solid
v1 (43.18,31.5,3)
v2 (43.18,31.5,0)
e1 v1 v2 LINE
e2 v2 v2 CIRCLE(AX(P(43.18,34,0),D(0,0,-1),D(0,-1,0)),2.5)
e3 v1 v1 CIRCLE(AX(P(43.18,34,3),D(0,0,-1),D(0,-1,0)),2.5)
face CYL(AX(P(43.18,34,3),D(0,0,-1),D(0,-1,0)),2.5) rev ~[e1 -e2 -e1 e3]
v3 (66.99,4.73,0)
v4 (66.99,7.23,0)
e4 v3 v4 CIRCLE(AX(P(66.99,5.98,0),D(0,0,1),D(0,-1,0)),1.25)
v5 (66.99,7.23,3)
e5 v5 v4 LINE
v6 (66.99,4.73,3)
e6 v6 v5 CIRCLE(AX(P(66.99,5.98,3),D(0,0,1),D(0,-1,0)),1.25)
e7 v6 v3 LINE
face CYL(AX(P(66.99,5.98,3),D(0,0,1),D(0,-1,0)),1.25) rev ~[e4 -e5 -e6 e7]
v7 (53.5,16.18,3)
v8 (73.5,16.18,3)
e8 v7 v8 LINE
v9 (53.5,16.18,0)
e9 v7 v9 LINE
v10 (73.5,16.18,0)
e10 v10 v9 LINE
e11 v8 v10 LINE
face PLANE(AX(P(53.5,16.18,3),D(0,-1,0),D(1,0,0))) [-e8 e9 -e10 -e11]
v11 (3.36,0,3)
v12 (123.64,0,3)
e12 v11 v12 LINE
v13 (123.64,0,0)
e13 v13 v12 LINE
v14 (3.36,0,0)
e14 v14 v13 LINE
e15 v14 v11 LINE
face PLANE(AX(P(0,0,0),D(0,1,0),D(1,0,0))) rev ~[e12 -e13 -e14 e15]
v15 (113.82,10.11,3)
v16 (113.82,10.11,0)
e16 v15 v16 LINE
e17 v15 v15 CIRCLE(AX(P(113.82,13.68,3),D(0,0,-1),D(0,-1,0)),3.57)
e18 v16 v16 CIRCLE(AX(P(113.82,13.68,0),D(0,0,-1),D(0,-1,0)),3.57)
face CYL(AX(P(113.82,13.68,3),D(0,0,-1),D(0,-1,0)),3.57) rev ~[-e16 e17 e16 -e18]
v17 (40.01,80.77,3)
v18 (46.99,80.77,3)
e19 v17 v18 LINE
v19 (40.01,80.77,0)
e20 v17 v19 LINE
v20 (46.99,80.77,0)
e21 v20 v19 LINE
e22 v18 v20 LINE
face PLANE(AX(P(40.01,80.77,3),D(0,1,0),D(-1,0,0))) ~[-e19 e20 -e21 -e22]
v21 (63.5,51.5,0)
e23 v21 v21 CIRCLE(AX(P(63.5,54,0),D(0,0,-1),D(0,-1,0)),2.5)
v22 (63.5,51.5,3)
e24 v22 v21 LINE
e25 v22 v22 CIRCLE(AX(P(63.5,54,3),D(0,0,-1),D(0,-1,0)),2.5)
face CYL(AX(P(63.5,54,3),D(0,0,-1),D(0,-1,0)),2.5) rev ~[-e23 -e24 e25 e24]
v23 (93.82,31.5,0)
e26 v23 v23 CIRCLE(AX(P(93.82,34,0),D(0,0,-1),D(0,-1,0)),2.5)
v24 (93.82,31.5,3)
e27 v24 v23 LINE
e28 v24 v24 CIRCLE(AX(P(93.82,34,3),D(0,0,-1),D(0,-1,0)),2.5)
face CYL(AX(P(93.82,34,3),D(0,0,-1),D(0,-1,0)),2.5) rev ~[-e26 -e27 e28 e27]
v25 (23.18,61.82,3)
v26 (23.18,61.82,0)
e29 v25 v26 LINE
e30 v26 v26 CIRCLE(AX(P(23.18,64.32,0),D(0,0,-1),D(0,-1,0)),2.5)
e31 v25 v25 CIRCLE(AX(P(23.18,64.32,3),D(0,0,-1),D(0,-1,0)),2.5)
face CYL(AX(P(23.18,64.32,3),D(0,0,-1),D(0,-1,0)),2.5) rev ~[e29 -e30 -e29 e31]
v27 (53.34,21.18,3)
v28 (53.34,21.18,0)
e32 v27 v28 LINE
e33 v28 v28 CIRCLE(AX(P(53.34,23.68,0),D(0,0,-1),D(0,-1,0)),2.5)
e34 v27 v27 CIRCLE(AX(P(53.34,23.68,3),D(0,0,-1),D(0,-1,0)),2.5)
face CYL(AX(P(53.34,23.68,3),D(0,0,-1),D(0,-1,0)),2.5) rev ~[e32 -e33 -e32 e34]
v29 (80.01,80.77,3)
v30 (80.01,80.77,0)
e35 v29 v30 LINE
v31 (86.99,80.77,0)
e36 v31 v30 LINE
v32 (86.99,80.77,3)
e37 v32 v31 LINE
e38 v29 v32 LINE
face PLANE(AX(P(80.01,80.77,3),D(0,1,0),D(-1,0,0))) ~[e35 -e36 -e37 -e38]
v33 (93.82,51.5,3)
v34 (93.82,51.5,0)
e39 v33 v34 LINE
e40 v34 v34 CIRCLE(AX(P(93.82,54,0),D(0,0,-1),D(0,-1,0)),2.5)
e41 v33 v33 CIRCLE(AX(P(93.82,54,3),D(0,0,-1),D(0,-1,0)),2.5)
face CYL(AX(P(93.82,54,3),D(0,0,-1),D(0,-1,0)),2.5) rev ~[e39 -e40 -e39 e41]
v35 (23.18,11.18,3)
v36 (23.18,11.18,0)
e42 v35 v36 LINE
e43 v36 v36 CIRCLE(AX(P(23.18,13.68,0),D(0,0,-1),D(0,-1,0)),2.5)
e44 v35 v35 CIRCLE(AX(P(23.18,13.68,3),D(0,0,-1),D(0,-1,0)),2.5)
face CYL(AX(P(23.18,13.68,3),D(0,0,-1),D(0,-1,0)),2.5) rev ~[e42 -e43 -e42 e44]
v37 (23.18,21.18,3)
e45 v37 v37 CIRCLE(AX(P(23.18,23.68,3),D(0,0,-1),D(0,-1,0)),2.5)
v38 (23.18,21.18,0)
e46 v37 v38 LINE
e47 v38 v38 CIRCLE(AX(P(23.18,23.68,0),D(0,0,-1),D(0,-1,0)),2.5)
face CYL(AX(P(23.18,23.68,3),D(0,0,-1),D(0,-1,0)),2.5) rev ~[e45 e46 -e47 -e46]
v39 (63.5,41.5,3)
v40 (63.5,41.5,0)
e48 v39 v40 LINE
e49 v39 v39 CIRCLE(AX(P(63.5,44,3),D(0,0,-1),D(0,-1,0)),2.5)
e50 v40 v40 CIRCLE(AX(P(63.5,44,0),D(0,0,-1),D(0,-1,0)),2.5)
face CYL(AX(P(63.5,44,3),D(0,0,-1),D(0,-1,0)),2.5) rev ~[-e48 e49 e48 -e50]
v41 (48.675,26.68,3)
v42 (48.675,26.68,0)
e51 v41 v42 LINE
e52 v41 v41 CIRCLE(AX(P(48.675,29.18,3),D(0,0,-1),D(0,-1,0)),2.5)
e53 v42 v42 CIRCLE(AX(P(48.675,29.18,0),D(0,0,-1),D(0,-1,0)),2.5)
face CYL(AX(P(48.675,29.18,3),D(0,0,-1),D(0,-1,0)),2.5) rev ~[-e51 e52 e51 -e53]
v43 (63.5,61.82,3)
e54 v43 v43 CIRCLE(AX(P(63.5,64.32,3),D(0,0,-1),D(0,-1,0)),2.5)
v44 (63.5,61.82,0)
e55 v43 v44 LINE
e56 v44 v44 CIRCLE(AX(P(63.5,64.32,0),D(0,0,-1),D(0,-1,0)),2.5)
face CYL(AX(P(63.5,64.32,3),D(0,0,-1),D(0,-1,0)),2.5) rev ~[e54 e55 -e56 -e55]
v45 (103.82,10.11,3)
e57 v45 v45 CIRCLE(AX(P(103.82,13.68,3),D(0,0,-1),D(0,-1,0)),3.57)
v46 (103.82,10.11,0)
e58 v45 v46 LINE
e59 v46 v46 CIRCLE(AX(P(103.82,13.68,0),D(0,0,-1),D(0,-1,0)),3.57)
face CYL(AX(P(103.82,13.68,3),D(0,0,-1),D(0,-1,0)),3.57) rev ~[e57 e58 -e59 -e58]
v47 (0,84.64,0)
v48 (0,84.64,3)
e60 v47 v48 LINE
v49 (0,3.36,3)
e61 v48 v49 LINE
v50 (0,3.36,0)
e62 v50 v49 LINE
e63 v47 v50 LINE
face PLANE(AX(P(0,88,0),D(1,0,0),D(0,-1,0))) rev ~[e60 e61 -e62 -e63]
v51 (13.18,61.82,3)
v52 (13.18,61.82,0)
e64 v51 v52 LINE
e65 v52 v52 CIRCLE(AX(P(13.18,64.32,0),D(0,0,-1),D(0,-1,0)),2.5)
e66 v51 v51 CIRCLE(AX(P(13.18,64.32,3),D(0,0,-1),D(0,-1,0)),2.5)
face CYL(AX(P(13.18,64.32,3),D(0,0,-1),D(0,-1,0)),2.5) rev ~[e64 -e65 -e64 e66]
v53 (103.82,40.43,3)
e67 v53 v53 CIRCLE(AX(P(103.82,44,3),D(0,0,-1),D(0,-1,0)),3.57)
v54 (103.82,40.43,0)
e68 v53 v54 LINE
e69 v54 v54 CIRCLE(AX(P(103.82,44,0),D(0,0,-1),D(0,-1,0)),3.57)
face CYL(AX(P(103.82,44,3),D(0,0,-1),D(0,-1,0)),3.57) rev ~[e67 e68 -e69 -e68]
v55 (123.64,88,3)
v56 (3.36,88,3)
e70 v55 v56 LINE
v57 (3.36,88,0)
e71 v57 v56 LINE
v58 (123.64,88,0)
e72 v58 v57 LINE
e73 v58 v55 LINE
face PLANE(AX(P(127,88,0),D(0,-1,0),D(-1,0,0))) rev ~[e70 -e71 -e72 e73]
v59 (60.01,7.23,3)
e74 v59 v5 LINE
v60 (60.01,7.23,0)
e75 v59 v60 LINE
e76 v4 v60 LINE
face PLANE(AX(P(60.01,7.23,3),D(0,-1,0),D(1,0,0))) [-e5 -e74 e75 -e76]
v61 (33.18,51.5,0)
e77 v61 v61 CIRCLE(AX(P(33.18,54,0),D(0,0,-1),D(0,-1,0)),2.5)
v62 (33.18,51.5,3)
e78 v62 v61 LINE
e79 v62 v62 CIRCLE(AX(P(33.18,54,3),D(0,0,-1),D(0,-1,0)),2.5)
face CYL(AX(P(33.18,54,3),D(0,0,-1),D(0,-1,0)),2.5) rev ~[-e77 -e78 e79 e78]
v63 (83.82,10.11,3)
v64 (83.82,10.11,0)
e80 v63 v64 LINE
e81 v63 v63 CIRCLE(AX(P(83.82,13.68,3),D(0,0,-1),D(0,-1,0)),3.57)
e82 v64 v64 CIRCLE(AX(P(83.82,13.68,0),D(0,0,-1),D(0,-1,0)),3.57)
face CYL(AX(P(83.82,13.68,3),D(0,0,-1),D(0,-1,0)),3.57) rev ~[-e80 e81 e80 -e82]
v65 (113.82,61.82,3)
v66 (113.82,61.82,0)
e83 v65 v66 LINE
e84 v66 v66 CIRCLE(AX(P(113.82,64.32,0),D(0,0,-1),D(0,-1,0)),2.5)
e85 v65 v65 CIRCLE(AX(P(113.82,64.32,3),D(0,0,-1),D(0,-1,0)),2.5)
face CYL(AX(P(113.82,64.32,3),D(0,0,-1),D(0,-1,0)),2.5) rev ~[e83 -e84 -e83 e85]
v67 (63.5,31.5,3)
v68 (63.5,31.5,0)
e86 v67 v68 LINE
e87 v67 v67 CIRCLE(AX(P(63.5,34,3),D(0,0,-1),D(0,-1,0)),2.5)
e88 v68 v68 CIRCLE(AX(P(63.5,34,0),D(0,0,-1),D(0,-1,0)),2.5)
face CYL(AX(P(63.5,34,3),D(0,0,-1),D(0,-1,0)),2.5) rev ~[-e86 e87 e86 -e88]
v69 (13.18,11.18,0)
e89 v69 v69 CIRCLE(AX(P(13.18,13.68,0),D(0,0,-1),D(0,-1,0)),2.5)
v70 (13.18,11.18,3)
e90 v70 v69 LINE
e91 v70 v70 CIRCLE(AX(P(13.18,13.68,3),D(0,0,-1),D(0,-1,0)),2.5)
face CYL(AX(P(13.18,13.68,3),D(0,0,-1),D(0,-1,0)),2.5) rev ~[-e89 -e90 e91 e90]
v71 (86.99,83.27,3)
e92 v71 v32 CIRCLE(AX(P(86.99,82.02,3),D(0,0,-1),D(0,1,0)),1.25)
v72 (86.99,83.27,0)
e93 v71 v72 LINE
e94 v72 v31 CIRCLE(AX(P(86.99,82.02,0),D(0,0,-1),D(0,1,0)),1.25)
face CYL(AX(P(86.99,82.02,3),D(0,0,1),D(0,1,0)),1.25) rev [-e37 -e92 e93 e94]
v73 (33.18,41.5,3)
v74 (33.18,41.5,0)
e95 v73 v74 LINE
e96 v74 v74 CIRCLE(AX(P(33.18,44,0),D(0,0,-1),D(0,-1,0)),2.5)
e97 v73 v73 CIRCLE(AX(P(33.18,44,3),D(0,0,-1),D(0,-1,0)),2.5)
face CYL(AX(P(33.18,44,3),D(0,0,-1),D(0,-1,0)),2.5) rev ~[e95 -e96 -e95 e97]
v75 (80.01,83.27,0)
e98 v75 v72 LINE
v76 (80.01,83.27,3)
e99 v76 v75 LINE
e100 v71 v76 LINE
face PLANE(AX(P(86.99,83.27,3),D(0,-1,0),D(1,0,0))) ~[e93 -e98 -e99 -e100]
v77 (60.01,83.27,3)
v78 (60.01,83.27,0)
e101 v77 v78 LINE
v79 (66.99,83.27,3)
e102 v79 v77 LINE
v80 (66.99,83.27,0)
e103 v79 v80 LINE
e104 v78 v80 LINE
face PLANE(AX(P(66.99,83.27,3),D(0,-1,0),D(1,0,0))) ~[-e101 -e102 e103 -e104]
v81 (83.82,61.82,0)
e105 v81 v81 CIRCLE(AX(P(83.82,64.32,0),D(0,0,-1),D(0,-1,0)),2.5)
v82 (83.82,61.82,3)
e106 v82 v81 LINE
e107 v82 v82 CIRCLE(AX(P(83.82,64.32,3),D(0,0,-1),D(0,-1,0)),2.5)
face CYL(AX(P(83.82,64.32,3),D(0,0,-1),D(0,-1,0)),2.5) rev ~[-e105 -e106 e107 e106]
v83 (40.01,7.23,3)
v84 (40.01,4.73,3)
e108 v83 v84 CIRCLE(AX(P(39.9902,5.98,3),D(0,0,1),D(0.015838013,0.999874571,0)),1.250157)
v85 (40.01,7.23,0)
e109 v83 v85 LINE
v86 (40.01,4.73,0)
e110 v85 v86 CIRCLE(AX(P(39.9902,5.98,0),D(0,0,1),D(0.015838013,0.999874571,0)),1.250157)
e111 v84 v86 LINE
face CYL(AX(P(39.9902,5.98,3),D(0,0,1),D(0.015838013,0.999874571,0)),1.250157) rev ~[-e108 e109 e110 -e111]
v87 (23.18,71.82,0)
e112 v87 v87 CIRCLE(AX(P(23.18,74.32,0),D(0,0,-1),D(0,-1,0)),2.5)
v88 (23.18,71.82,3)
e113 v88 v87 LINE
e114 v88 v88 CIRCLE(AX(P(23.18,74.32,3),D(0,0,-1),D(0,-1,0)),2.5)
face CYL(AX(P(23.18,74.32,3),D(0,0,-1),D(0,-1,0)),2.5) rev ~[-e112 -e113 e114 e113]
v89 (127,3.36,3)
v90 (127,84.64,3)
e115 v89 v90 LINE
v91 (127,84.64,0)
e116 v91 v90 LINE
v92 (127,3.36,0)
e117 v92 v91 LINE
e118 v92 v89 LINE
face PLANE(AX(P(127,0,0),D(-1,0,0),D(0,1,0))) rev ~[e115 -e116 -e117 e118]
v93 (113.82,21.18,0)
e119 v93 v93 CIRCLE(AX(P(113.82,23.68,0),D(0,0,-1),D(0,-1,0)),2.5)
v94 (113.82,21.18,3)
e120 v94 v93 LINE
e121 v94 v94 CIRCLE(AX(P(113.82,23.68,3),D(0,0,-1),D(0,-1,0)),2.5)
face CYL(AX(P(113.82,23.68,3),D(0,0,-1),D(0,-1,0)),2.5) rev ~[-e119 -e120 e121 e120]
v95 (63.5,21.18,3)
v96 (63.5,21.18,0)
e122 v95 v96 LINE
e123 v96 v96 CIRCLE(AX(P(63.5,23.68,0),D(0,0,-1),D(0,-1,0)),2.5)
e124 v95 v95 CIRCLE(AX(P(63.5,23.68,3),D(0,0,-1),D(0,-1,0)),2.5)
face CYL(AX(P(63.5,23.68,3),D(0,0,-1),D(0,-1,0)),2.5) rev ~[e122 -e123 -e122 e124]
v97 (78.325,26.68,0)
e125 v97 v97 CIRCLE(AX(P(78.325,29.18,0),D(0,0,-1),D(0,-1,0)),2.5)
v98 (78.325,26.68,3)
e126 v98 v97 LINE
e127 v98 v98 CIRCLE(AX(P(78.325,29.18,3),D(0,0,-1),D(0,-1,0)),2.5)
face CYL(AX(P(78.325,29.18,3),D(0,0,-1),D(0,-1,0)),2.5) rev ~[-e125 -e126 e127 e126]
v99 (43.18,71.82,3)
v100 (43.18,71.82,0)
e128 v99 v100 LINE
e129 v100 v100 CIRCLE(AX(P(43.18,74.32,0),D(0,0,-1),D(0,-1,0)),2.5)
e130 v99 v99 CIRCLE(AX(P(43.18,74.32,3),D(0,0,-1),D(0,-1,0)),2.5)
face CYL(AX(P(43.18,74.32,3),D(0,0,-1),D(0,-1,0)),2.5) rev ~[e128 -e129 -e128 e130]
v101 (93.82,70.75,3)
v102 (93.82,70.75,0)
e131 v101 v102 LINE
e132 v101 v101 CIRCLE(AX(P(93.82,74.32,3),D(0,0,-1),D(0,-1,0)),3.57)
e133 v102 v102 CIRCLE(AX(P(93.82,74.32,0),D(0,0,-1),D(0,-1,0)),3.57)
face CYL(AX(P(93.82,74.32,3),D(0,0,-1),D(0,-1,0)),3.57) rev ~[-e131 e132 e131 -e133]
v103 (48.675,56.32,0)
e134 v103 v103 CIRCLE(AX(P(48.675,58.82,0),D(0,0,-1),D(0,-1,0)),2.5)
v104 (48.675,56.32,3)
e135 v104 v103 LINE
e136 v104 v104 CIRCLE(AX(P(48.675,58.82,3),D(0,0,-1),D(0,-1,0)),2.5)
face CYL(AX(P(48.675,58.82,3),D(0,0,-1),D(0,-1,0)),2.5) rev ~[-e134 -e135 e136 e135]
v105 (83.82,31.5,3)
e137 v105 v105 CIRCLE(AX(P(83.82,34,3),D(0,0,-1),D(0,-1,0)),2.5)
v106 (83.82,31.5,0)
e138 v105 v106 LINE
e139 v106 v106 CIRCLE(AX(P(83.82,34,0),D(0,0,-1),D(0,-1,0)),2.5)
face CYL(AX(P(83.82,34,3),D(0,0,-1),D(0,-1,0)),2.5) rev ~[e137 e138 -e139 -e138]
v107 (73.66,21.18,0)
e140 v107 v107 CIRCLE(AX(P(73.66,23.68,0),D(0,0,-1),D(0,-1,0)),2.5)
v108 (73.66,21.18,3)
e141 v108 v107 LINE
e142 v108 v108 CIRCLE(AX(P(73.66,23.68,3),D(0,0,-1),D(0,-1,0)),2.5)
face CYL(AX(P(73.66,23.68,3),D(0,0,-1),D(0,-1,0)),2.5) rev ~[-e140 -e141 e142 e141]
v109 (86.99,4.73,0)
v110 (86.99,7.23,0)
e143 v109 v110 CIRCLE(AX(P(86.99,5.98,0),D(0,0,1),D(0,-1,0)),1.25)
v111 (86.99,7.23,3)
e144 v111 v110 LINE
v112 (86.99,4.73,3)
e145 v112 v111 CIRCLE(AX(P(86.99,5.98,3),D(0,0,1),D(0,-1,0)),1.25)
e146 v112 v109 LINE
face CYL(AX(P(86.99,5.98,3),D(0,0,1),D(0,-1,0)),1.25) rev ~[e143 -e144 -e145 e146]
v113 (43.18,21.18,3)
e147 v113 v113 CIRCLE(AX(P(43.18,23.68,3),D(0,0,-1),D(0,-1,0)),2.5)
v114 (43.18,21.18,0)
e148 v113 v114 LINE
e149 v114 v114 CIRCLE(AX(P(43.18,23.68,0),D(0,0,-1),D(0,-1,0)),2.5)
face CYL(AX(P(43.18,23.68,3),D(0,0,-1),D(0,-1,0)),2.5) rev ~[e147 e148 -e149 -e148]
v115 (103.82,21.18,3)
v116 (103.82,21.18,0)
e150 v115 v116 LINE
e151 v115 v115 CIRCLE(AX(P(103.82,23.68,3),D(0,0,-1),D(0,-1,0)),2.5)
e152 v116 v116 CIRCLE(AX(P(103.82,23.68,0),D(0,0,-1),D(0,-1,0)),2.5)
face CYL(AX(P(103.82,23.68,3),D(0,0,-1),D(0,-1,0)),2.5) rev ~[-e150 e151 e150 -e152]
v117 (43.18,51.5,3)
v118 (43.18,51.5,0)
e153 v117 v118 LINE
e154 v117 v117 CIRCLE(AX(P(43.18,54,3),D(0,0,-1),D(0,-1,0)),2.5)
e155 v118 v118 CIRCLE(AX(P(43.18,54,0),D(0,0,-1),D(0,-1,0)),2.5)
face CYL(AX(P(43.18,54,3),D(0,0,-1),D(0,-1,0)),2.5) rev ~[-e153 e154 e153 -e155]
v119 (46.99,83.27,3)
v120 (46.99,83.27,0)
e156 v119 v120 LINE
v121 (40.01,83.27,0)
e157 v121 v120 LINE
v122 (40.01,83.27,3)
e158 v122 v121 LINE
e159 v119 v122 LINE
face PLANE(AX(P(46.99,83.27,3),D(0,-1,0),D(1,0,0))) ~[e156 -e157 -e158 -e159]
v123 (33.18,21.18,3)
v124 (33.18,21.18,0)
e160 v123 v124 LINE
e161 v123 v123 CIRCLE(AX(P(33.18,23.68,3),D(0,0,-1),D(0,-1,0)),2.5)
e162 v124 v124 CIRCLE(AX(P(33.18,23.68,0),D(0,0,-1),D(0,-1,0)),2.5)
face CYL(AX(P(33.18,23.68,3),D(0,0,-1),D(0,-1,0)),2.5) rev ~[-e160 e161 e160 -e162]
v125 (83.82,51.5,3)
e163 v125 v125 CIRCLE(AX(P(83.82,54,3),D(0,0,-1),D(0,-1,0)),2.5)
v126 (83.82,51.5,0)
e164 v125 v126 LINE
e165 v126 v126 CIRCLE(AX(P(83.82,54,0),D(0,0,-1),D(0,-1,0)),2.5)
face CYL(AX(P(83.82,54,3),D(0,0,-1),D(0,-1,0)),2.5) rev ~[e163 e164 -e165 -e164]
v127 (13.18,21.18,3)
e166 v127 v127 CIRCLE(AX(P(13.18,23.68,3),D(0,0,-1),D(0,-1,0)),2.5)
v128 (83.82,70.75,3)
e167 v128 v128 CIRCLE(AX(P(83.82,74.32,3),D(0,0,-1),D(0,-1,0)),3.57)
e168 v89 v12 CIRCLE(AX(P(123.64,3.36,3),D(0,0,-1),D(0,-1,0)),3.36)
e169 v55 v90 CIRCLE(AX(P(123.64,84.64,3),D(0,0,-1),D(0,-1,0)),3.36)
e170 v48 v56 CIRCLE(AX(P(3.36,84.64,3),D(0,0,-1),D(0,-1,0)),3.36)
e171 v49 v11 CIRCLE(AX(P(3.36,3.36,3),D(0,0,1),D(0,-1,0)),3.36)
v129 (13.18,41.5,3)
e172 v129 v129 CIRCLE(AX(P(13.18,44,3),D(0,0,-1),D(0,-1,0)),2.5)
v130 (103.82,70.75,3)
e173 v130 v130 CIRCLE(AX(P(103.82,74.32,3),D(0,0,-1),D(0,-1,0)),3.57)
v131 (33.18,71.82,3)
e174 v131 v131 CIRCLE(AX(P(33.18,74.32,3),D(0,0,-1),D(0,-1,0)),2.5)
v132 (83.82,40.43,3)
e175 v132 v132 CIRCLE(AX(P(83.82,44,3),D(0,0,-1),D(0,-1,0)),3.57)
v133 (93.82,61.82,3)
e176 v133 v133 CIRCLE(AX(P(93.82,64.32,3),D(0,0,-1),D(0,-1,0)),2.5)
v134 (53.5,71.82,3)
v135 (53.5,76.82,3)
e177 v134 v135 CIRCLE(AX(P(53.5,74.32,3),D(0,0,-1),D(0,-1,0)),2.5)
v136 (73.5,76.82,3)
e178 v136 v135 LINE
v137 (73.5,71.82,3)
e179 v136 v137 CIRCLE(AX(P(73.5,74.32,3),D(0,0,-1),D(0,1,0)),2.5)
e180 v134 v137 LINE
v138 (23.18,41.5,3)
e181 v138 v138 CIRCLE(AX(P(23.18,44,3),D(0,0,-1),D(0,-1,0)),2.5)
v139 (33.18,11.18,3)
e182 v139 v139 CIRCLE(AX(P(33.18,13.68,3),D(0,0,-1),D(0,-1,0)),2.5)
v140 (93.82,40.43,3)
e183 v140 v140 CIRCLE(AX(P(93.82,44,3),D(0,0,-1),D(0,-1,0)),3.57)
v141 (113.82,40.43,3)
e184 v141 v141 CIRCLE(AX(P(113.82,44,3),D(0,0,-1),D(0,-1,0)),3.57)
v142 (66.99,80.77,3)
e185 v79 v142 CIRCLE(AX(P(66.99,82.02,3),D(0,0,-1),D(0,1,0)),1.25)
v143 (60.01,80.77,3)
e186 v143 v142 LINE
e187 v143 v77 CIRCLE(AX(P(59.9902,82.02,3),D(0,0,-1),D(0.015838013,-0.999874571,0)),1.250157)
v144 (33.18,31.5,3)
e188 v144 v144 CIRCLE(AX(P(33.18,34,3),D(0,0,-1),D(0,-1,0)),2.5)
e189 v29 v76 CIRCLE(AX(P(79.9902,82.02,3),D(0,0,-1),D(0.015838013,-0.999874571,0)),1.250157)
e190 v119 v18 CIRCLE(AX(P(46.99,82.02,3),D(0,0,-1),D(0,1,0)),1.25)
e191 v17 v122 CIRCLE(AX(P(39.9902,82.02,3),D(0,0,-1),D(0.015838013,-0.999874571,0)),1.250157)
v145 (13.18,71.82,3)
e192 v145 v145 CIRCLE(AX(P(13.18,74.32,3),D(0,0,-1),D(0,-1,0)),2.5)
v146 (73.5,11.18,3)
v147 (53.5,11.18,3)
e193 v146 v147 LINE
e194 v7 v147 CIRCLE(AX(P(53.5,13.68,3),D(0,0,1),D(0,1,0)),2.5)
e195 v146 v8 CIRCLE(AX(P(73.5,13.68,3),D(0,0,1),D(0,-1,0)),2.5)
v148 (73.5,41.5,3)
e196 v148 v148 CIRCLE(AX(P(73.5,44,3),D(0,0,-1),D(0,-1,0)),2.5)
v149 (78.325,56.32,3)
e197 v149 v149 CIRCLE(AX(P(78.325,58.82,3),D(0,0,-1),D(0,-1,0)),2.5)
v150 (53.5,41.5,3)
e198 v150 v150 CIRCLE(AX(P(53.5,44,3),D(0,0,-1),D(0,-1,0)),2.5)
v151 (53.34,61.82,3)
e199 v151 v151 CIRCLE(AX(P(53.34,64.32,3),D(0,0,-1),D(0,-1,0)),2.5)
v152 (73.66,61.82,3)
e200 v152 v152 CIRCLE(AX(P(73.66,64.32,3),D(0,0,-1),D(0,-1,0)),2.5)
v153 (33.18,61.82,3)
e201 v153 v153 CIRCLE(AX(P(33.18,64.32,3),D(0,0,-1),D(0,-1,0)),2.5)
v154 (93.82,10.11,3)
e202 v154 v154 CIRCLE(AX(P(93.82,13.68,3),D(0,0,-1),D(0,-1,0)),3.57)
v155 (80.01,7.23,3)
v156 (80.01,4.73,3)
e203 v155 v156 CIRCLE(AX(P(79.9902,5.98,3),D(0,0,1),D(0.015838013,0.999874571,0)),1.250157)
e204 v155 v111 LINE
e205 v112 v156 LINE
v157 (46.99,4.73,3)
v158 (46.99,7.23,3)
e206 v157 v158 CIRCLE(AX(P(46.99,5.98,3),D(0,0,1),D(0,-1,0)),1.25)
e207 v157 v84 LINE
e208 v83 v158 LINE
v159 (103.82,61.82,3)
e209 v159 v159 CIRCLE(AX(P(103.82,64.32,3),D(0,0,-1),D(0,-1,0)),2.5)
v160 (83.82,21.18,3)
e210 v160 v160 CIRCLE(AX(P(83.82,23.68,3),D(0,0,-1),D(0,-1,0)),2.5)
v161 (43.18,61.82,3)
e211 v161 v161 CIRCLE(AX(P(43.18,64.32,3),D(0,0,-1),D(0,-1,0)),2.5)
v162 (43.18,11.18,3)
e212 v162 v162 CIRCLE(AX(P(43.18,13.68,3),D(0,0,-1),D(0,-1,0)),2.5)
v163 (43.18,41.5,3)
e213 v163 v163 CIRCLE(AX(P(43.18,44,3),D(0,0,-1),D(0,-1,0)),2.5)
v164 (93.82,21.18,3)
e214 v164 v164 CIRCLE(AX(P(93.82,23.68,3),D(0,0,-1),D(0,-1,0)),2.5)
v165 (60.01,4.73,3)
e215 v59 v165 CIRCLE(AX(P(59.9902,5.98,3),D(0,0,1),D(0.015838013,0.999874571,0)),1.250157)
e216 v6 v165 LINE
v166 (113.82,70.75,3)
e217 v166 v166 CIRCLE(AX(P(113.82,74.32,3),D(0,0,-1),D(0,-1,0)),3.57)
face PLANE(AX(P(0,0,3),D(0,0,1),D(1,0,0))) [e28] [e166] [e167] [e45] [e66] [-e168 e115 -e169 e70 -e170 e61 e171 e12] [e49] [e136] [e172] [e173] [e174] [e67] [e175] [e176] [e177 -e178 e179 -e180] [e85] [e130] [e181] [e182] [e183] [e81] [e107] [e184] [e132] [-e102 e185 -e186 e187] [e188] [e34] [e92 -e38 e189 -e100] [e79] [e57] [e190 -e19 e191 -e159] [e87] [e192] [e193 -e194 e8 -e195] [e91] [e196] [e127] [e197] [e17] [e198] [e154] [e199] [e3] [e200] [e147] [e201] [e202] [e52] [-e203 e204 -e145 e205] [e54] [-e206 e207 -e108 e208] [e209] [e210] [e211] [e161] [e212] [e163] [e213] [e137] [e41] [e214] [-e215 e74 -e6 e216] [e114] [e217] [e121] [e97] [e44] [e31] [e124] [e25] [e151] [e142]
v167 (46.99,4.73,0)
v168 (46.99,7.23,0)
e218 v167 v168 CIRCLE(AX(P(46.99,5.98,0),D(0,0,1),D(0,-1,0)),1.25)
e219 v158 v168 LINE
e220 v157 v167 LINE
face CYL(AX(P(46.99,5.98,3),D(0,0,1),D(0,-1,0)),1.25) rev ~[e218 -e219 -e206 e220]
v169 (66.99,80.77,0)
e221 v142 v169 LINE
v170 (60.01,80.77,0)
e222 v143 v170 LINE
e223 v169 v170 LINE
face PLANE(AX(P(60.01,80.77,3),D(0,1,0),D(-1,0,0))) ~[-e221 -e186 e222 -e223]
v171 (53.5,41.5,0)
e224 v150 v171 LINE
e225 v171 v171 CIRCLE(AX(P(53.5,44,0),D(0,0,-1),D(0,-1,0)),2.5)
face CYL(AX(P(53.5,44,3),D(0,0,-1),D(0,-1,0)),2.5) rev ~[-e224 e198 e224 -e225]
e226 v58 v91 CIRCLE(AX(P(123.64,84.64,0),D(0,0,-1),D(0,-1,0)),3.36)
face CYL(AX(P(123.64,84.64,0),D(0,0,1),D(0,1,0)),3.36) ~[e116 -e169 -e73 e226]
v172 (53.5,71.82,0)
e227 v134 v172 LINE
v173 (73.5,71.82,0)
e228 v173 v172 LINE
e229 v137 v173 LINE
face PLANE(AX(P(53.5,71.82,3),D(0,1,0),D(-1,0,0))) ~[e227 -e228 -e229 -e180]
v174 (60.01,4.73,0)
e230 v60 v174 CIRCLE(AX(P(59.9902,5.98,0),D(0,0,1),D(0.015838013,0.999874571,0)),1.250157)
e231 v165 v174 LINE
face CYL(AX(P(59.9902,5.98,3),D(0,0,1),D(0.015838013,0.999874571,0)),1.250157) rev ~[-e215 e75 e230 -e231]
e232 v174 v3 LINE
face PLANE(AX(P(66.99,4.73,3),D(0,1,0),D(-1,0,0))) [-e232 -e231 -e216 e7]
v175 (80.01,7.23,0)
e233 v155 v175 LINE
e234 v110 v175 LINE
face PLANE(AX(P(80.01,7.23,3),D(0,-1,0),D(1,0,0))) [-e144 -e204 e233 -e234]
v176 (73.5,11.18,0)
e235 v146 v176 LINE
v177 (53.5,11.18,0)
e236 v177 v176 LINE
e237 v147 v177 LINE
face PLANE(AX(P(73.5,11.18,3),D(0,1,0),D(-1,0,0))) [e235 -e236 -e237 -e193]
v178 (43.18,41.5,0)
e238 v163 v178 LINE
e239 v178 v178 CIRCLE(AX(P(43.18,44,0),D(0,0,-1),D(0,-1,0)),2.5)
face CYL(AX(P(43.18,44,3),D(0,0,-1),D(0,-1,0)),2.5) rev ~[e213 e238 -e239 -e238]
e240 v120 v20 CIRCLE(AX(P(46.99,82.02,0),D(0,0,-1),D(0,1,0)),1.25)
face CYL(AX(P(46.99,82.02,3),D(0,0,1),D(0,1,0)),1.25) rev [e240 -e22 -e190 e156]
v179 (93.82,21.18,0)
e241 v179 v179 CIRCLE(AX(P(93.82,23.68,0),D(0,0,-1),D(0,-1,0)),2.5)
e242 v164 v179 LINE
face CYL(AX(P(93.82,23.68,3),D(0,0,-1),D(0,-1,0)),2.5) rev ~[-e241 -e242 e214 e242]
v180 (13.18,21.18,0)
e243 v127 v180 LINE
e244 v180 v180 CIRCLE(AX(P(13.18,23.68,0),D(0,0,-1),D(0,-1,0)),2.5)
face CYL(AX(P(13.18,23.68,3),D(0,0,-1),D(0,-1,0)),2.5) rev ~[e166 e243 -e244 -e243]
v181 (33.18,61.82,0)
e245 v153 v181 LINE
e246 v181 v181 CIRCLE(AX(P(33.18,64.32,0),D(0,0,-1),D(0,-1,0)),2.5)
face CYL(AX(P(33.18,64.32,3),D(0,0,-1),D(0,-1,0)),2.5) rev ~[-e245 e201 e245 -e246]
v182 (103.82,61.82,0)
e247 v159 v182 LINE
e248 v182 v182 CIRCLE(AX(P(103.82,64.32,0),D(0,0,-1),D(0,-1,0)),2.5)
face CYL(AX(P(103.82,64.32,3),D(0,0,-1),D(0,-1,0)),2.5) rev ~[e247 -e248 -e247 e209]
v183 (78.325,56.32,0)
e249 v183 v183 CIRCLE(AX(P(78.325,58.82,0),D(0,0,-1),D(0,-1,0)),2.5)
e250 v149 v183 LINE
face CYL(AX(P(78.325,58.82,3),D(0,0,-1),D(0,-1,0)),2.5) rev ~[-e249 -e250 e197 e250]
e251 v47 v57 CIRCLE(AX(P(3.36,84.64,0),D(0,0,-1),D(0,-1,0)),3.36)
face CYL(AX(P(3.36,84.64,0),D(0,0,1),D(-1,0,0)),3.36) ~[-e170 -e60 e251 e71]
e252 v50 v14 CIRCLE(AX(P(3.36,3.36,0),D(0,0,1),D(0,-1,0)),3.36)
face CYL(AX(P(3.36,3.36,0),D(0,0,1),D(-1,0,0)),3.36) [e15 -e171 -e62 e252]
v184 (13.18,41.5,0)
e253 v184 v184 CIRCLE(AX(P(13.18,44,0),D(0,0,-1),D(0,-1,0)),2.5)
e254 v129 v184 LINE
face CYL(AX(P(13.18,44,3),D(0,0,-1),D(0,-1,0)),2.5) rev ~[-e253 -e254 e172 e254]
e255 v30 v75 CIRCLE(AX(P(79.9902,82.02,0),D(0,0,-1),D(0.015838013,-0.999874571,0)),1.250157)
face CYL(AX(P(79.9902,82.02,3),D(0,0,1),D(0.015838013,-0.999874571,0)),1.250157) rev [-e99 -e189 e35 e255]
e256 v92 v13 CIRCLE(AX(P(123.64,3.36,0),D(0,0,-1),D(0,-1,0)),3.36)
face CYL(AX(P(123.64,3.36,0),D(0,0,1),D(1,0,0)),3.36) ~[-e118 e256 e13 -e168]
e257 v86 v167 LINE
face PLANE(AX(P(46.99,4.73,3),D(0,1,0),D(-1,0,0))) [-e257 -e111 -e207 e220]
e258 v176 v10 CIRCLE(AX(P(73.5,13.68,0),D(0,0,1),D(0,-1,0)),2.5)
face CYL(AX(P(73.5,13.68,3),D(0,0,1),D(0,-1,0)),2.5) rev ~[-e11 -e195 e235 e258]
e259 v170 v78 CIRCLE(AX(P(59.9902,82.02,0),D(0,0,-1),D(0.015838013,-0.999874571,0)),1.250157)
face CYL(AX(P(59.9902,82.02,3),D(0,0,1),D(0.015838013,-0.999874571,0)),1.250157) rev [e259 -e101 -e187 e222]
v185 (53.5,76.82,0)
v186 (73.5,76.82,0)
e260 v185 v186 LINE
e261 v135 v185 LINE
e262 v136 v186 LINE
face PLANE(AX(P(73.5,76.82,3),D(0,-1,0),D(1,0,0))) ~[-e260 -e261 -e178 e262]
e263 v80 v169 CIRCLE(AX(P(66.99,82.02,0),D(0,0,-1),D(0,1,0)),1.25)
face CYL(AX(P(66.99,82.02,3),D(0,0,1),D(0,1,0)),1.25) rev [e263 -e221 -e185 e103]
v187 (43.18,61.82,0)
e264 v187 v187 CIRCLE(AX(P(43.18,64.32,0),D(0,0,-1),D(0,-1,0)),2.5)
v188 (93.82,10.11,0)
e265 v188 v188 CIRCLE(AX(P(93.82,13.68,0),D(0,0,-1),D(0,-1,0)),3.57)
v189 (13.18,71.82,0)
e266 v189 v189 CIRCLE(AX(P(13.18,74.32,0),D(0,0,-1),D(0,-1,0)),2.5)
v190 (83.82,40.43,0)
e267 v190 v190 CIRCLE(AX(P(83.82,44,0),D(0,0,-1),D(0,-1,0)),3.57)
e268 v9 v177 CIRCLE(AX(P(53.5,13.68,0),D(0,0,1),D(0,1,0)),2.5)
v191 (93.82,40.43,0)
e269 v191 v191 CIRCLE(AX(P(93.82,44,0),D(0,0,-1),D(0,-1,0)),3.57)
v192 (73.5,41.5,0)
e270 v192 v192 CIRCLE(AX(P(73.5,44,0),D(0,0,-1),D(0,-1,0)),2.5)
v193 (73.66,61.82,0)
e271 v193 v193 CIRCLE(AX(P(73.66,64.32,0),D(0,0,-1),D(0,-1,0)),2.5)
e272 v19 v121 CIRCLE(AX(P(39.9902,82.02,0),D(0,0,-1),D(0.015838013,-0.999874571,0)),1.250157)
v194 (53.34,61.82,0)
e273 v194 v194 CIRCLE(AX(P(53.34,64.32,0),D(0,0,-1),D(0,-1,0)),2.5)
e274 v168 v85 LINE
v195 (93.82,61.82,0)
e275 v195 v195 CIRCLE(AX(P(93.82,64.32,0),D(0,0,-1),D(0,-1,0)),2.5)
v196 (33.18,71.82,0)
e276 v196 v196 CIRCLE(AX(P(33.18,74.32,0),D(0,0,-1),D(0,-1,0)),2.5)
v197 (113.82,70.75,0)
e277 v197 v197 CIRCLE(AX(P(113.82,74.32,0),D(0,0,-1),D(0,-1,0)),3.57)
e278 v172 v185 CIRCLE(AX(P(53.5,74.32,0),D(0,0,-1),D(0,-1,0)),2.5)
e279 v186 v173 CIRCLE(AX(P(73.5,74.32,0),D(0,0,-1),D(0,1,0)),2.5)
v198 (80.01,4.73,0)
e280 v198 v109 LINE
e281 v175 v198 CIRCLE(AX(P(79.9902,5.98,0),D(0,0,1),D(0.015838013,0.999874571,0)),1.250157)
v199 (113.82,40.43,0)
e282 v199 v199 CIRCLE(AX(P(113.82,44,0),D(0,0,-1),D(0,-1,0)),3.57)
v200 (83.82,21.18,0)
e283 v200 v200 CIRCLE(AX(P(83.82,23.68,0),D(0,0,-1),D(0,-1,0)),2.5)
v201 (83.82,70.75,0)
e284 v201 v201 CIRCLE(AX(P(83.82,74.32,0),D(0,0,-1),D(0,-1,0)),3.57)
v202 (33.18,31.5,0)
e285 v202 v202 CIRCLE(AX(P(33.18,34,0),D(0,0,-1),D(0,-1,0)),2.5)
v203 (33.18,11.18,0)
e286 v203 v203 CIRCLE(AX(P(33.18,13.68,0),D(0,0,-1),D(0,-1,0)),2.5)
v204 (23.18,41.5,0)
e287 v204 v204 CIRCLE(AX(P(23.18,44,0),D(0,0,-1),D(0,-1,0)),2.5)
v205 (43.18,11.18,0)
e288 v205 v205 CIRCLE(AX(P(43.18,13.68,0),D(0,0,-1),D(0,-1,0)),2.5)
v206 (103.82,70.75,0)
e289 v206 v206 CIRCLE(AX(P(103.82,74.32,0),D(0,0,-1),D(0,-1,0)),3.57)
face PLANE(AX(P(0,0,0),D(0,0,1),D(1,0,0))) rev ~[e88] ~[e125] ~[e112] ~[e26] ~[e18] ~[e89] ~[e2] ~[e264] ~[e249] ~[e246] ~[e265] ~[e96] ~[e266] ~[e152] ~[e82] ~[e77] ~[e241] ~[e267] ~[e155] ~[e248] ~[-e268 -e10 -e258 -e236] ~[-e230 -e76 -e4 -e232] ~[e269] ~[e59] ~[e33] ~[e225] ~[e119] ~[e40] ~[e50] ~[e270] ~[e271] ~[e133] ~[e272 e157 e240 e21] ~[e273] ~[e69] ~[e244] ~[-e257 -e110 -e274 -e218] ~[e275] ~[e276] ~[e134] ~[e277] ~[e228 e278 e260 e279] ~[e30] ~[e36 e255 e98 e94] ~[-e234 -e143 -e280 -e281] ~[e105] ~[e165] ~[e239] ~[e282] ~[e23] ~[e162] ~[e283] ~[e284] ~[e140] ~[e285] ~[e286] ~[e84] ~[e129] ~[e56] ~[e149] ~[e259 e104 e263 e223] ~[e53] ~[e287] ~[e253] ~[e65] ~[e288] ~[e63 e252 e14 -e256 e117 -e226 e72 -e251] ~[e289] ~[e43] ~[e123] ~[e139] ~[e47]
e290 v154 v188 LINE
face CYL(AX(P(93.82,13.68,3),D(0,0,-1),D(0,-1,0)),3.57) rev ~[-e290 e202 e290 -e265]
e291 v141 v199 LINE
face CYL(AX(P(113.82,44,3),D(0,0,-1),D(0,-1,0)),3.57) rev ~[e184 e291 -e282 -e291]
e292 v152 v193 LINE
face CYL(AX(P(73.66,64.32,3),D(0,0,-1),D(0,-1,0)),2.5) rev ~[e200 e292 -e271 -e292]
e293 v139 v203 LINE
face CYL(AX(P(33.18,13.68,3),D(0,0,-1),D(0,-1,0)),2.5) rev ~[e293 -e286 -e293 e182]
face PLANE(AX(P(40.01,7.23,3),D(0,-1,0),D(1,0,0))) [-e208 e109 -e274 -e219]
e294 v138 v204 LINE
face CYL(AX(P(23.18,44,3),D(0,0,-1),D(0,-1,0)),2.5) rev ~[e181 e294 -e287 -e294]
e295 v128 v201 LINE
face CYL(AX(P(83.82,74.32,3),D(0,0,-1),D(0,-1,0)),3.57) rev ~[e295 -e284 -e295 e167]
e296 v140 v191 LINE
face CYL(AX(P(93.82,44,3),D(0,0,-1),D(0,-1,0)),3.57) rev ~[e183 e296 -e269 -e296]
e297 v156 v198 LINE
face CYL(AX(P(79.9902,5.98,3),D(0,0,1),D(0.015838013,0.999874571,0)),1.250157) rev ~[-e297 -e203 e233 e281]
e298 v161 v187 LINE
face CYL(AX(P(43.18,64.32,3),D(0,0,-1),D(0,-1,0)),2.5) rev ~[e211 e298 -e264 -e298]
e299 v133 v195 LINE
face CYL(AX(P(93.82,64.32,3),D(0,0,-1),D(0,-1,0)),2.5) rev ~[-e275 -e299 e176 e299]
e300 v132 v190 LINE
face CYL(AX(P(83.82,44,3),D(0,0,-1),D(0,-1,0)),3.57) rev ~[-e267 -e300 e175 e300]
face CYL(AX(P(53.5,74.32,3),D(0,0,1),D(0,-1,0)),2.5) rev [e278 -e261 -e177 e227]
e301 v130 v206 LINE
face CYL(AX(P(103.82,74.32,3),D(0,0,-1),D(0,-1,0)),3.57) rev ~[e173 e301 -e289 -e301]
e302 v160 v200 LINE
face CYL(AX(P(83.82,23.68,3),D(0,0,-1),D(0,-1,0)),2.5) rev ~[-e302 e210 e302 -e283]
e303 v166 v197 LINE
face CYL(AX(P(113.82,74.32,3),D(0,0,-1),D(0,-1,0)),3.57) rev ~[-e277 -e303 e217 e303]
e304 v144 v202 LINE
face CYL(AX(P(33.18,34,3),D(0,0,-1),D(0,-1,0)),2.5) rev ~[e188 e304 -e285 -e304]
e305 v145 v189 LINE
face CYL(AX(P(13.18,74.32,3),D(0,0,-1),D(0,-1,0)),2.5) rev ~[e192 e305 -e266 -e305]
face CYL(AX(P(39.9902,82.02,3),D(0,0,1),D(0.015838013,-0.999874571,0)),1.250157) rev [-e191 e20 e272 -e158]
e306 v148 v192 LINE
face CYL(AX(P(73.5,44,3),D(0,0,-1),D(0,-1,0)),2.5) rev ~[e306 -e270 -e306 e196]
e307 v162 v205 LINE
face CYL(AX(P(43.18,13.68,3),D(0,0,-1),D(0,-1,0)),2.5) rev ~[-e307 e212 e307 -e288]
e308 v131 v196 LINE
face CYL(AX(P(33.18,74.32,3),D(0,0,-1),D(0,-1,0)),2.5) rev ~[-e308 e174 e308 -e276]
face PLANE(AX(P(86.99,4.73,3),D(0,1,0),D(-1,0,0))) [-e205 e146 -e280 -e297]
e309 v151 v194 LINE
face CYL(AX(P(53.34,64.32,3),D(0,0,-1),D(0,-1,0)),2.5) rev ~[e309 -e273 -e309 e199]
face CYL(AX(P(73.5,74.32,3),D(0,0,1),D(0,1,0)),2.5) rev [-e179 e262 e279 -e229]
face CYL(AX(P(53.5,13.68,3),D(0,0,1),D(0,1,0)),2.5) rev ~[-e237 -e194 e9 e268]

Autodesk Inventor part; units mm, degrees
ref_plane "YZ Plane" through (0, 0, 0) normal (1, 0, 0) x (0, 1, 0)
ref_plane "XZ Plane" through (0, 0, 0) normal (0, 1, 0) x (-1, 0, 0)
sketch "Sketch1" plane through (0, 0, 0) normal (0, 0, 1) x (1, 0, 0)
  line L0 (0, 0) -> (127, 0)
  line L1 (127, 0) -> (127, 88)
  line L2 (127, 88) -> (0, 88)
  line L3 (0, 88) -> (0, 0)
  dimension "d0" = 127
  dimension "d1" = 88
extrude "Extrusion1" add sketch "Sketch1" along normal blind 3
fillet "Fillet1" radius 3.36 4 edges at (0, 88, 1.5) (0, 0, 1.5) (127, 0, 1.5) (127, 88, 1.5)
sketch "Sketch4" plane through (0, 0, 3) normal (0, 0, 1) x (1, 0, 0)
  line L0 (123.64, 88) -> (3.36, 88) projected
  line L1 (0, 84.64) -> (0, 3.36) projected
  line L2 (3.36, 0) -> (123.64, 0) projected
  line L3 (127, 3.36) -> (127, 84.64) projected
  line L4 (0, 74.32) -> (127, 74.32) construction
  line L5 (0, 64.32) -> (127, 64.32) construction
  line L6 (0, 44) -> (127, 44) construction
  line L7 (0, 23.68) -> (127, 23.68) construction
  line L8 (0, 13.68) -> (127, 13.68) construction
  line L9 (63.5, 88) -> (63.5, 0) construction
  point P0 (0, 0)
  point P1 (63.5, 64.32)
  point P2 (53.34, 64.32)
  point P3 (43.18, 64.32)
  point P4 (33.18, 64.32)
  point P5 (23.18, 64.32)
  point P6 (13.18, 64.32)
  point P7 (73.66, 64.32)
  point P8 (83.82, 64.32)
  point P9 (93.82, 64.32)
  point P10 (103.82, 64.32)
  point P11 (113.82, 64.32)
  point P12 (63.5, 23.68)
  point P13 (53.34, 23.68)
  point P14 (43.18, 23.68)
  point P15 (33.18, 23.68)
  point P16 (23.18, 23.68)
  point P17 (13.18, 23.68)
  point P18 (113.82, 23.68)
  point P19 (103.82, 23.68)
  point P20 (93.82, 23.68)
  point P21 (83.82, 23.68)
  point P22 (73.66, 23.68)
  point P23 (63.5, 44)
  point P24 (43.18, 44)
  point P25 (33.18, 44)
  point P26 (23.18, 44)
  point P27 (13.18, 44)
  point P28 (53.5, 44)
  point P29 (73.5, 44)
  point P30 (43.18, 74.32)
  point P31 (33.18, 74.32)
  point P32 (23.18, 74.32)
  point P33 (13.18, 74.32)
  point P34 (43.18, 13.68)
  point P35 (33.18, 13.68)
  point P36 (23.18, 13.68)
  point P37 (13.18, 13.68)
  dimension "d37" = 13.68
  dimension "d38" = 23.68
  dimension "d39" = 44
  dimension "d40" = 64.32
  dimension "d41" = 74.32
  dimension "d42" = 10.16
  dimension "d43" = 20.32
  dimension "d46" = 10
  dimension "d55" = 10.16
  dimension "d56" = 20.32
  dimension "d57" = 10
  dimension "d62" = 20.32
  dimension "d63" = 10
  dimension "d64" = 10
hole "Hole2" at (63.5, 64.32, 3) at (53.34, 64.32, 3) at (43.18, 64.32, 3) at (33.18, 64.32, 3) at (23.18, 64.32, 3) at (13.18, 64.32, 3) at (113.82, 64.32, 3) at (103.82, 64.32, 3) at (93.82, 64.32, 3) at (83.82, 64.32, 3) at (73.66, 64.32, 3) at (73.66, 23.68, 3) at (83.82, 23.68, 3) at (93.82, 23.68, 3) at (103.82, 23.68, 3) at (113.82, 23.68, 3) at (13.18, 23.68, 3) at (23.18, 23.68, 3) at (33.18, 23.68, 3) at (43.18, 23.68, 3) at (53.34, 23.68, 3) at (63.5, 23.68, 3) at (13.18, 44, 3) at (23.18, 44, 3) at (33.18, 44, 3) at (43.18, 44, 3) at (63.5, 44, 3) at (53.5, 44, 3) at (73.5, 44, 3) at (43.18, 74.32, 3) at (33.18, 74.32, 3) at (23.18, 74.32, 3) at (13.18, 74.32, 3) at (43.18, 13.68, 3) at (33.18, 13.68, 3) at (23.18, 13.68, 3) at (13.18, 13.68, 3) direction (0, 0, -1) diameter 5 end through all
sketch "Sketch5" plane through (0, 0, 3) normal (0, 0, 1) x (1, 0, 0)
  circle A0 centre (13.18, 44) radius 2.5 projected
  circle A1 centre (13.18, 74.32) radius 2.5 projected
  circle A2 centre (13.18, 13.68) radius 2.5 projected
  line L0 (123.64, 88) -> (3.36, 88) projected
  line L1 (3.36, 0) -> (123.64, 0) projected
  line L2 (127, 3.36) -> (127, 84.64) projected
  line L3 (13.18, 74.32) -> (127, 74.32) construction
  line L4 (13.18, 44) -> (127, 44) construction
  line L5 (13.18, 13.68) -> (127, 13.68) construction
  line L6 (63.5, 88) -> (63.5, 0) construction
  point P0 (0, 0)
  point P1 (83.82, 74.32)
  point P2 (93.82, 74.32)
  point P3 (103.82, 74.32)
  point P4 (113.82, 74.32)
  point P5 (83.82, 44)
  point P6 (93.82, 44)
  point P7 (103.82, 44)
  point P8 (113.82, 44)
  point P9 (83.82, 13.68)
  point P10 (93.82, 13.68)
  point P11 (103.82, 13.68)
  point P12 (113.82, 13.68)
hole "Hole3" at (83.82, 74.32, 3) at (93.82, 74.32, 3) at (103.82, 74.32, 3) at (113.82, 74.32, 3) at (83.82, 44, 3) at (93.82, 44, 3) at (103.82, 44, 3) at (113.82, 44, 3) at (83.82, 13.68, 3) at (93.82, 13.68, 3) at (103.82, 13.68, 3) at (113.82, 13.68, 3) direction (0, 0, -1) diameter 7.14 end through all
sketch "Sketch6" plane through (0, 0, 3) normal (0, 0, 1) x (1, 0, 0)
  line L0 (123.64, 88) -> (3.36, 88) projected
  line L1 (0, 84.64) -> (0, 3.36) projected
  line L2 (3.36, 0) -> (123.64, 0) projected
  line L3 (127, 3.36) -> (127, 84.64) projected
  line L4 (0, 5.98) -> (127, 5.98) construction
  line L5 (63.5, 88) -> (63.5, 0) construction
  line L6 (66.99, 4.73) -> (60.01, 4.73)
  line L7 (60.01, 7.23) -> (66.99, 7.23)
  line L8 (66.99, 4.73) -> (60.01, 7.23) construction
  line L9 (60.01, 4.73) -> (66.99, 7.23) construction
  arc A0 (60.01, 7.23) -> (60.01, 4.73) centre (59.9902, 5.98) ccw
  arc A1 (66.99, 4.73) -> (66.99, 7.23) centre (66.99, 5.98) ccw
  line L10 (86.99, 4.73) -> (80.01, 4.73)
  line L11 (80.01, 7.23) -> (86.99, 7.23)
  line L12 (86.99, 4.73) -> (80.01, 7.23) construction
  line L13 (80.01, 4.73) -> (86.99, 7.23) construction
  arc A2 (80.01, 7.23) -> (80.01, 4.73) centre (79.9902, 5.98) ccw
  arc A3 (86.99, 4.73) -> (86.99, 7.23) centre (86.99, 5.98) ccw
  line L14 (46.99, 4.73) -> (40.01, 4.73)
  line L15 (40.01, 7.23) -> (46.99, 7.23)
  line L16 (46.99, 4.73) -> (40.01, 7.23) construction
  line L17 (40.01, 4.73) -> (46.99, 7.23) construction
  arc A4 (40.01, 7.23) -> (40.01, 4.73) centre (39.9902, 5.98) ccw
  arc A5 (46.99, 4.73) -> (46.99, 7.23) centre (46.99, 5.98) ccw
  line L18 (66.99, 4.73) -> (60.01, 4.73)
  line L19 (60.01, 7.23) -> (66.99, 7.23)
  line L20 (66.99, 4.73) -> (60.01, 7.23) construction
  line L21 (60.01, 4.73) -> (66.99, 7.23) construction
  arc A6 (60.01, 7.23) -> (60.01, 4.73) centre (59.9902, 5.98) ccw
  arc A7 (66.99, 4.73) -> (66.99, 7.23) centre (66.99, 5.98) ccw
  line L22 (0, 44) -> (127, 44) construction
  point P0 (0, 0)
  point P1 (63.5, 5.98)
  point P2 (83.5, 5.98)
  point P3 (43.5, 5.98)
  point P4 (63.5, 5.98)
  dimension "d79" = 5.98
  dimension "d82" = 6.98
  dimension "d83" = 2.5
  dimension "d84" = 9.5
  dimension "d87" = 20
  dimension "d90" = 20
extrude "Extrusion2" cut sketch "Sketch6" against normal up to next
ref_plane "Work Plane1" through (3.36, 44, 0) normal (0, -1, 0) x (1, 0, 0)
mirror "Mirror1" about plane through (3.36, 44, 0) normal (0, -1, 0) of "Extrusion2"
sketch "Sketch7" plane through (0, 0, 3) normal (0, 0, 1) x (1, 0, 0)
  line L0 (86.99, 80.77) -> (80.01, 80.77) projected
  line L1 (80.01, 83.27) -> (86.99, 83.27) projected
  circle A0 centre (13.18, 13.68) radius 2.5 projected
  line L2 (123.64, 88) -> (3.36, 88) projected
  line L3 (3.36, 0) -> (123.64, 0) projected
  line L4 (127, 3.36) -> (127, 84.64) projected
  line L5 (13.18, 13.68) -> (127, 13.68) construction
  line L6 (63.5, 88) -> (63.5, 0) construction
  line L7 (53.5, 16.18) -> (73.5, 16.18)
  line L8 (73.5, 11.18) -> (53.5, 11.18)
  line L9 (51, 16.18) -> (76, 11.18) construction
  line L10 (76, 16.18) -> (51, 11.18) construction
  arc A1 (53.5, 16.18) -> (53.5, 11.18) centre (53.5, 13.68) ccw
  arc A2 (73.5, 11.18) -> (73.5, 16.18) centre (73.5, 13.68) ccw
  point P0 (0, 0)
  point P1 (63.5, 13.68)
  dimension "d95" = 25
  dimension "d96" = 13.68
  dimension "d97" = 20
  dimension "d98" = 2.5
  dimension "d99" = 2.5
  dimension "d100" = 11.31
  dimension "d101" = 11.31
  dimension "d102" = 51
  dimension "d103" = 51
  dimension "d104" = 53.5
  dimension "d105" = 76
extrude "Extrusion3" cut sketch "Sketch7" against normal up to next contours L7 A2 L8 A1
mirror "Mirror2" about plane through (3.36, 44, 0) normal (0, -1, 0) of "Extrusion3"
sketch "Sketch8" plane through (0, 0, 3) normal (0, 0, 1) x (1, 0, 0)
  circle A0 centre (43.18, 44) radius 2.5 projected
  line L0 (123.64, 88) -> (3.36, 88) projected
  line L1 (0, 84.64) -> (0, 3.36) projected
  line L2 (3.36, 0) -> (123.64, 0) projected
  line L3 (127, 3.36) -> (127, 84.64) projected
  line L4 (63.5, 88) -> (63.5, 0) construction
  line L5 (0, 44) -> (127, 44) construction
  line L6 (63.5, 34) -> (0, 34) construction
  point P0 (0, 0)
  point P1 (63.5, 54)
  point P2 (43.18, 34)
  point P3 (33.18, 34)
  point P4 (83.82, 34)
  point P5 (93.82, 34)
  point P6 (43.18, 54)
  point P7 (33.18, 54)
  point P8 (93.82, 54)
  point P9 (83.82, 54)
  dimension "d108" = 34
  dimension "d109" = 10
hole "Hole4" at (63.5, 34, 3) at (63.5, 54, 3) at (43.18, 34, 3) at (33.18, 34, 3) at (93.82, 34, 3) at (83.82, 34, 3) at (33.18, 54, 3) at (43.18, 54, 3) at (83.82, 54, 3) at (93.82, 54, 3) direction (0, 0, -1) diameter 5 end through all
sketch "Sketch9" plane through (0, 0, 3) normal (0, 0, 1) x (1, 0, 0)
  circle A0 centre (63.5, 44) radius 2.5 projected
  line L0 (123.64, 88) -> (3.36, 88) projected
  line L1 (0, 84.64) -> (0, 3.36) projected
  line L2 (3.36, 0) -> (123.64, 0) projected
  line L3 (127, 3.36) -> (127, 84.64) projected
  line L4 (0, 44) -> (127, 44) construction
  line L5 (63.5, 88) -> (63.5, 0) construction
  line L6 (78.325, 88) -> (78.325, 0) construction
  line L7 (0, 58.82) -> (127, 58.82) construction
  point P0 (0, 0)
  point P1 (78.325, 58.82)
  point P2 (78.325, 29.18)
  point P3 (48.675, 58.82)
  point P4 (48.675, 29.18)
  dimension "d117" = 14.82
  dimension "d118" = 14.825
hole "Hole5" at (78.325, 58.82, 3) at (78.325, 29.18, 3) at (48.675, 58.82, 3) at (48.675, 29.18, 3) direction (0, 0, -1) diameter 5 end through all
properties part number "V-Slot Universal Build Plate" material "Aluminum 6061"
